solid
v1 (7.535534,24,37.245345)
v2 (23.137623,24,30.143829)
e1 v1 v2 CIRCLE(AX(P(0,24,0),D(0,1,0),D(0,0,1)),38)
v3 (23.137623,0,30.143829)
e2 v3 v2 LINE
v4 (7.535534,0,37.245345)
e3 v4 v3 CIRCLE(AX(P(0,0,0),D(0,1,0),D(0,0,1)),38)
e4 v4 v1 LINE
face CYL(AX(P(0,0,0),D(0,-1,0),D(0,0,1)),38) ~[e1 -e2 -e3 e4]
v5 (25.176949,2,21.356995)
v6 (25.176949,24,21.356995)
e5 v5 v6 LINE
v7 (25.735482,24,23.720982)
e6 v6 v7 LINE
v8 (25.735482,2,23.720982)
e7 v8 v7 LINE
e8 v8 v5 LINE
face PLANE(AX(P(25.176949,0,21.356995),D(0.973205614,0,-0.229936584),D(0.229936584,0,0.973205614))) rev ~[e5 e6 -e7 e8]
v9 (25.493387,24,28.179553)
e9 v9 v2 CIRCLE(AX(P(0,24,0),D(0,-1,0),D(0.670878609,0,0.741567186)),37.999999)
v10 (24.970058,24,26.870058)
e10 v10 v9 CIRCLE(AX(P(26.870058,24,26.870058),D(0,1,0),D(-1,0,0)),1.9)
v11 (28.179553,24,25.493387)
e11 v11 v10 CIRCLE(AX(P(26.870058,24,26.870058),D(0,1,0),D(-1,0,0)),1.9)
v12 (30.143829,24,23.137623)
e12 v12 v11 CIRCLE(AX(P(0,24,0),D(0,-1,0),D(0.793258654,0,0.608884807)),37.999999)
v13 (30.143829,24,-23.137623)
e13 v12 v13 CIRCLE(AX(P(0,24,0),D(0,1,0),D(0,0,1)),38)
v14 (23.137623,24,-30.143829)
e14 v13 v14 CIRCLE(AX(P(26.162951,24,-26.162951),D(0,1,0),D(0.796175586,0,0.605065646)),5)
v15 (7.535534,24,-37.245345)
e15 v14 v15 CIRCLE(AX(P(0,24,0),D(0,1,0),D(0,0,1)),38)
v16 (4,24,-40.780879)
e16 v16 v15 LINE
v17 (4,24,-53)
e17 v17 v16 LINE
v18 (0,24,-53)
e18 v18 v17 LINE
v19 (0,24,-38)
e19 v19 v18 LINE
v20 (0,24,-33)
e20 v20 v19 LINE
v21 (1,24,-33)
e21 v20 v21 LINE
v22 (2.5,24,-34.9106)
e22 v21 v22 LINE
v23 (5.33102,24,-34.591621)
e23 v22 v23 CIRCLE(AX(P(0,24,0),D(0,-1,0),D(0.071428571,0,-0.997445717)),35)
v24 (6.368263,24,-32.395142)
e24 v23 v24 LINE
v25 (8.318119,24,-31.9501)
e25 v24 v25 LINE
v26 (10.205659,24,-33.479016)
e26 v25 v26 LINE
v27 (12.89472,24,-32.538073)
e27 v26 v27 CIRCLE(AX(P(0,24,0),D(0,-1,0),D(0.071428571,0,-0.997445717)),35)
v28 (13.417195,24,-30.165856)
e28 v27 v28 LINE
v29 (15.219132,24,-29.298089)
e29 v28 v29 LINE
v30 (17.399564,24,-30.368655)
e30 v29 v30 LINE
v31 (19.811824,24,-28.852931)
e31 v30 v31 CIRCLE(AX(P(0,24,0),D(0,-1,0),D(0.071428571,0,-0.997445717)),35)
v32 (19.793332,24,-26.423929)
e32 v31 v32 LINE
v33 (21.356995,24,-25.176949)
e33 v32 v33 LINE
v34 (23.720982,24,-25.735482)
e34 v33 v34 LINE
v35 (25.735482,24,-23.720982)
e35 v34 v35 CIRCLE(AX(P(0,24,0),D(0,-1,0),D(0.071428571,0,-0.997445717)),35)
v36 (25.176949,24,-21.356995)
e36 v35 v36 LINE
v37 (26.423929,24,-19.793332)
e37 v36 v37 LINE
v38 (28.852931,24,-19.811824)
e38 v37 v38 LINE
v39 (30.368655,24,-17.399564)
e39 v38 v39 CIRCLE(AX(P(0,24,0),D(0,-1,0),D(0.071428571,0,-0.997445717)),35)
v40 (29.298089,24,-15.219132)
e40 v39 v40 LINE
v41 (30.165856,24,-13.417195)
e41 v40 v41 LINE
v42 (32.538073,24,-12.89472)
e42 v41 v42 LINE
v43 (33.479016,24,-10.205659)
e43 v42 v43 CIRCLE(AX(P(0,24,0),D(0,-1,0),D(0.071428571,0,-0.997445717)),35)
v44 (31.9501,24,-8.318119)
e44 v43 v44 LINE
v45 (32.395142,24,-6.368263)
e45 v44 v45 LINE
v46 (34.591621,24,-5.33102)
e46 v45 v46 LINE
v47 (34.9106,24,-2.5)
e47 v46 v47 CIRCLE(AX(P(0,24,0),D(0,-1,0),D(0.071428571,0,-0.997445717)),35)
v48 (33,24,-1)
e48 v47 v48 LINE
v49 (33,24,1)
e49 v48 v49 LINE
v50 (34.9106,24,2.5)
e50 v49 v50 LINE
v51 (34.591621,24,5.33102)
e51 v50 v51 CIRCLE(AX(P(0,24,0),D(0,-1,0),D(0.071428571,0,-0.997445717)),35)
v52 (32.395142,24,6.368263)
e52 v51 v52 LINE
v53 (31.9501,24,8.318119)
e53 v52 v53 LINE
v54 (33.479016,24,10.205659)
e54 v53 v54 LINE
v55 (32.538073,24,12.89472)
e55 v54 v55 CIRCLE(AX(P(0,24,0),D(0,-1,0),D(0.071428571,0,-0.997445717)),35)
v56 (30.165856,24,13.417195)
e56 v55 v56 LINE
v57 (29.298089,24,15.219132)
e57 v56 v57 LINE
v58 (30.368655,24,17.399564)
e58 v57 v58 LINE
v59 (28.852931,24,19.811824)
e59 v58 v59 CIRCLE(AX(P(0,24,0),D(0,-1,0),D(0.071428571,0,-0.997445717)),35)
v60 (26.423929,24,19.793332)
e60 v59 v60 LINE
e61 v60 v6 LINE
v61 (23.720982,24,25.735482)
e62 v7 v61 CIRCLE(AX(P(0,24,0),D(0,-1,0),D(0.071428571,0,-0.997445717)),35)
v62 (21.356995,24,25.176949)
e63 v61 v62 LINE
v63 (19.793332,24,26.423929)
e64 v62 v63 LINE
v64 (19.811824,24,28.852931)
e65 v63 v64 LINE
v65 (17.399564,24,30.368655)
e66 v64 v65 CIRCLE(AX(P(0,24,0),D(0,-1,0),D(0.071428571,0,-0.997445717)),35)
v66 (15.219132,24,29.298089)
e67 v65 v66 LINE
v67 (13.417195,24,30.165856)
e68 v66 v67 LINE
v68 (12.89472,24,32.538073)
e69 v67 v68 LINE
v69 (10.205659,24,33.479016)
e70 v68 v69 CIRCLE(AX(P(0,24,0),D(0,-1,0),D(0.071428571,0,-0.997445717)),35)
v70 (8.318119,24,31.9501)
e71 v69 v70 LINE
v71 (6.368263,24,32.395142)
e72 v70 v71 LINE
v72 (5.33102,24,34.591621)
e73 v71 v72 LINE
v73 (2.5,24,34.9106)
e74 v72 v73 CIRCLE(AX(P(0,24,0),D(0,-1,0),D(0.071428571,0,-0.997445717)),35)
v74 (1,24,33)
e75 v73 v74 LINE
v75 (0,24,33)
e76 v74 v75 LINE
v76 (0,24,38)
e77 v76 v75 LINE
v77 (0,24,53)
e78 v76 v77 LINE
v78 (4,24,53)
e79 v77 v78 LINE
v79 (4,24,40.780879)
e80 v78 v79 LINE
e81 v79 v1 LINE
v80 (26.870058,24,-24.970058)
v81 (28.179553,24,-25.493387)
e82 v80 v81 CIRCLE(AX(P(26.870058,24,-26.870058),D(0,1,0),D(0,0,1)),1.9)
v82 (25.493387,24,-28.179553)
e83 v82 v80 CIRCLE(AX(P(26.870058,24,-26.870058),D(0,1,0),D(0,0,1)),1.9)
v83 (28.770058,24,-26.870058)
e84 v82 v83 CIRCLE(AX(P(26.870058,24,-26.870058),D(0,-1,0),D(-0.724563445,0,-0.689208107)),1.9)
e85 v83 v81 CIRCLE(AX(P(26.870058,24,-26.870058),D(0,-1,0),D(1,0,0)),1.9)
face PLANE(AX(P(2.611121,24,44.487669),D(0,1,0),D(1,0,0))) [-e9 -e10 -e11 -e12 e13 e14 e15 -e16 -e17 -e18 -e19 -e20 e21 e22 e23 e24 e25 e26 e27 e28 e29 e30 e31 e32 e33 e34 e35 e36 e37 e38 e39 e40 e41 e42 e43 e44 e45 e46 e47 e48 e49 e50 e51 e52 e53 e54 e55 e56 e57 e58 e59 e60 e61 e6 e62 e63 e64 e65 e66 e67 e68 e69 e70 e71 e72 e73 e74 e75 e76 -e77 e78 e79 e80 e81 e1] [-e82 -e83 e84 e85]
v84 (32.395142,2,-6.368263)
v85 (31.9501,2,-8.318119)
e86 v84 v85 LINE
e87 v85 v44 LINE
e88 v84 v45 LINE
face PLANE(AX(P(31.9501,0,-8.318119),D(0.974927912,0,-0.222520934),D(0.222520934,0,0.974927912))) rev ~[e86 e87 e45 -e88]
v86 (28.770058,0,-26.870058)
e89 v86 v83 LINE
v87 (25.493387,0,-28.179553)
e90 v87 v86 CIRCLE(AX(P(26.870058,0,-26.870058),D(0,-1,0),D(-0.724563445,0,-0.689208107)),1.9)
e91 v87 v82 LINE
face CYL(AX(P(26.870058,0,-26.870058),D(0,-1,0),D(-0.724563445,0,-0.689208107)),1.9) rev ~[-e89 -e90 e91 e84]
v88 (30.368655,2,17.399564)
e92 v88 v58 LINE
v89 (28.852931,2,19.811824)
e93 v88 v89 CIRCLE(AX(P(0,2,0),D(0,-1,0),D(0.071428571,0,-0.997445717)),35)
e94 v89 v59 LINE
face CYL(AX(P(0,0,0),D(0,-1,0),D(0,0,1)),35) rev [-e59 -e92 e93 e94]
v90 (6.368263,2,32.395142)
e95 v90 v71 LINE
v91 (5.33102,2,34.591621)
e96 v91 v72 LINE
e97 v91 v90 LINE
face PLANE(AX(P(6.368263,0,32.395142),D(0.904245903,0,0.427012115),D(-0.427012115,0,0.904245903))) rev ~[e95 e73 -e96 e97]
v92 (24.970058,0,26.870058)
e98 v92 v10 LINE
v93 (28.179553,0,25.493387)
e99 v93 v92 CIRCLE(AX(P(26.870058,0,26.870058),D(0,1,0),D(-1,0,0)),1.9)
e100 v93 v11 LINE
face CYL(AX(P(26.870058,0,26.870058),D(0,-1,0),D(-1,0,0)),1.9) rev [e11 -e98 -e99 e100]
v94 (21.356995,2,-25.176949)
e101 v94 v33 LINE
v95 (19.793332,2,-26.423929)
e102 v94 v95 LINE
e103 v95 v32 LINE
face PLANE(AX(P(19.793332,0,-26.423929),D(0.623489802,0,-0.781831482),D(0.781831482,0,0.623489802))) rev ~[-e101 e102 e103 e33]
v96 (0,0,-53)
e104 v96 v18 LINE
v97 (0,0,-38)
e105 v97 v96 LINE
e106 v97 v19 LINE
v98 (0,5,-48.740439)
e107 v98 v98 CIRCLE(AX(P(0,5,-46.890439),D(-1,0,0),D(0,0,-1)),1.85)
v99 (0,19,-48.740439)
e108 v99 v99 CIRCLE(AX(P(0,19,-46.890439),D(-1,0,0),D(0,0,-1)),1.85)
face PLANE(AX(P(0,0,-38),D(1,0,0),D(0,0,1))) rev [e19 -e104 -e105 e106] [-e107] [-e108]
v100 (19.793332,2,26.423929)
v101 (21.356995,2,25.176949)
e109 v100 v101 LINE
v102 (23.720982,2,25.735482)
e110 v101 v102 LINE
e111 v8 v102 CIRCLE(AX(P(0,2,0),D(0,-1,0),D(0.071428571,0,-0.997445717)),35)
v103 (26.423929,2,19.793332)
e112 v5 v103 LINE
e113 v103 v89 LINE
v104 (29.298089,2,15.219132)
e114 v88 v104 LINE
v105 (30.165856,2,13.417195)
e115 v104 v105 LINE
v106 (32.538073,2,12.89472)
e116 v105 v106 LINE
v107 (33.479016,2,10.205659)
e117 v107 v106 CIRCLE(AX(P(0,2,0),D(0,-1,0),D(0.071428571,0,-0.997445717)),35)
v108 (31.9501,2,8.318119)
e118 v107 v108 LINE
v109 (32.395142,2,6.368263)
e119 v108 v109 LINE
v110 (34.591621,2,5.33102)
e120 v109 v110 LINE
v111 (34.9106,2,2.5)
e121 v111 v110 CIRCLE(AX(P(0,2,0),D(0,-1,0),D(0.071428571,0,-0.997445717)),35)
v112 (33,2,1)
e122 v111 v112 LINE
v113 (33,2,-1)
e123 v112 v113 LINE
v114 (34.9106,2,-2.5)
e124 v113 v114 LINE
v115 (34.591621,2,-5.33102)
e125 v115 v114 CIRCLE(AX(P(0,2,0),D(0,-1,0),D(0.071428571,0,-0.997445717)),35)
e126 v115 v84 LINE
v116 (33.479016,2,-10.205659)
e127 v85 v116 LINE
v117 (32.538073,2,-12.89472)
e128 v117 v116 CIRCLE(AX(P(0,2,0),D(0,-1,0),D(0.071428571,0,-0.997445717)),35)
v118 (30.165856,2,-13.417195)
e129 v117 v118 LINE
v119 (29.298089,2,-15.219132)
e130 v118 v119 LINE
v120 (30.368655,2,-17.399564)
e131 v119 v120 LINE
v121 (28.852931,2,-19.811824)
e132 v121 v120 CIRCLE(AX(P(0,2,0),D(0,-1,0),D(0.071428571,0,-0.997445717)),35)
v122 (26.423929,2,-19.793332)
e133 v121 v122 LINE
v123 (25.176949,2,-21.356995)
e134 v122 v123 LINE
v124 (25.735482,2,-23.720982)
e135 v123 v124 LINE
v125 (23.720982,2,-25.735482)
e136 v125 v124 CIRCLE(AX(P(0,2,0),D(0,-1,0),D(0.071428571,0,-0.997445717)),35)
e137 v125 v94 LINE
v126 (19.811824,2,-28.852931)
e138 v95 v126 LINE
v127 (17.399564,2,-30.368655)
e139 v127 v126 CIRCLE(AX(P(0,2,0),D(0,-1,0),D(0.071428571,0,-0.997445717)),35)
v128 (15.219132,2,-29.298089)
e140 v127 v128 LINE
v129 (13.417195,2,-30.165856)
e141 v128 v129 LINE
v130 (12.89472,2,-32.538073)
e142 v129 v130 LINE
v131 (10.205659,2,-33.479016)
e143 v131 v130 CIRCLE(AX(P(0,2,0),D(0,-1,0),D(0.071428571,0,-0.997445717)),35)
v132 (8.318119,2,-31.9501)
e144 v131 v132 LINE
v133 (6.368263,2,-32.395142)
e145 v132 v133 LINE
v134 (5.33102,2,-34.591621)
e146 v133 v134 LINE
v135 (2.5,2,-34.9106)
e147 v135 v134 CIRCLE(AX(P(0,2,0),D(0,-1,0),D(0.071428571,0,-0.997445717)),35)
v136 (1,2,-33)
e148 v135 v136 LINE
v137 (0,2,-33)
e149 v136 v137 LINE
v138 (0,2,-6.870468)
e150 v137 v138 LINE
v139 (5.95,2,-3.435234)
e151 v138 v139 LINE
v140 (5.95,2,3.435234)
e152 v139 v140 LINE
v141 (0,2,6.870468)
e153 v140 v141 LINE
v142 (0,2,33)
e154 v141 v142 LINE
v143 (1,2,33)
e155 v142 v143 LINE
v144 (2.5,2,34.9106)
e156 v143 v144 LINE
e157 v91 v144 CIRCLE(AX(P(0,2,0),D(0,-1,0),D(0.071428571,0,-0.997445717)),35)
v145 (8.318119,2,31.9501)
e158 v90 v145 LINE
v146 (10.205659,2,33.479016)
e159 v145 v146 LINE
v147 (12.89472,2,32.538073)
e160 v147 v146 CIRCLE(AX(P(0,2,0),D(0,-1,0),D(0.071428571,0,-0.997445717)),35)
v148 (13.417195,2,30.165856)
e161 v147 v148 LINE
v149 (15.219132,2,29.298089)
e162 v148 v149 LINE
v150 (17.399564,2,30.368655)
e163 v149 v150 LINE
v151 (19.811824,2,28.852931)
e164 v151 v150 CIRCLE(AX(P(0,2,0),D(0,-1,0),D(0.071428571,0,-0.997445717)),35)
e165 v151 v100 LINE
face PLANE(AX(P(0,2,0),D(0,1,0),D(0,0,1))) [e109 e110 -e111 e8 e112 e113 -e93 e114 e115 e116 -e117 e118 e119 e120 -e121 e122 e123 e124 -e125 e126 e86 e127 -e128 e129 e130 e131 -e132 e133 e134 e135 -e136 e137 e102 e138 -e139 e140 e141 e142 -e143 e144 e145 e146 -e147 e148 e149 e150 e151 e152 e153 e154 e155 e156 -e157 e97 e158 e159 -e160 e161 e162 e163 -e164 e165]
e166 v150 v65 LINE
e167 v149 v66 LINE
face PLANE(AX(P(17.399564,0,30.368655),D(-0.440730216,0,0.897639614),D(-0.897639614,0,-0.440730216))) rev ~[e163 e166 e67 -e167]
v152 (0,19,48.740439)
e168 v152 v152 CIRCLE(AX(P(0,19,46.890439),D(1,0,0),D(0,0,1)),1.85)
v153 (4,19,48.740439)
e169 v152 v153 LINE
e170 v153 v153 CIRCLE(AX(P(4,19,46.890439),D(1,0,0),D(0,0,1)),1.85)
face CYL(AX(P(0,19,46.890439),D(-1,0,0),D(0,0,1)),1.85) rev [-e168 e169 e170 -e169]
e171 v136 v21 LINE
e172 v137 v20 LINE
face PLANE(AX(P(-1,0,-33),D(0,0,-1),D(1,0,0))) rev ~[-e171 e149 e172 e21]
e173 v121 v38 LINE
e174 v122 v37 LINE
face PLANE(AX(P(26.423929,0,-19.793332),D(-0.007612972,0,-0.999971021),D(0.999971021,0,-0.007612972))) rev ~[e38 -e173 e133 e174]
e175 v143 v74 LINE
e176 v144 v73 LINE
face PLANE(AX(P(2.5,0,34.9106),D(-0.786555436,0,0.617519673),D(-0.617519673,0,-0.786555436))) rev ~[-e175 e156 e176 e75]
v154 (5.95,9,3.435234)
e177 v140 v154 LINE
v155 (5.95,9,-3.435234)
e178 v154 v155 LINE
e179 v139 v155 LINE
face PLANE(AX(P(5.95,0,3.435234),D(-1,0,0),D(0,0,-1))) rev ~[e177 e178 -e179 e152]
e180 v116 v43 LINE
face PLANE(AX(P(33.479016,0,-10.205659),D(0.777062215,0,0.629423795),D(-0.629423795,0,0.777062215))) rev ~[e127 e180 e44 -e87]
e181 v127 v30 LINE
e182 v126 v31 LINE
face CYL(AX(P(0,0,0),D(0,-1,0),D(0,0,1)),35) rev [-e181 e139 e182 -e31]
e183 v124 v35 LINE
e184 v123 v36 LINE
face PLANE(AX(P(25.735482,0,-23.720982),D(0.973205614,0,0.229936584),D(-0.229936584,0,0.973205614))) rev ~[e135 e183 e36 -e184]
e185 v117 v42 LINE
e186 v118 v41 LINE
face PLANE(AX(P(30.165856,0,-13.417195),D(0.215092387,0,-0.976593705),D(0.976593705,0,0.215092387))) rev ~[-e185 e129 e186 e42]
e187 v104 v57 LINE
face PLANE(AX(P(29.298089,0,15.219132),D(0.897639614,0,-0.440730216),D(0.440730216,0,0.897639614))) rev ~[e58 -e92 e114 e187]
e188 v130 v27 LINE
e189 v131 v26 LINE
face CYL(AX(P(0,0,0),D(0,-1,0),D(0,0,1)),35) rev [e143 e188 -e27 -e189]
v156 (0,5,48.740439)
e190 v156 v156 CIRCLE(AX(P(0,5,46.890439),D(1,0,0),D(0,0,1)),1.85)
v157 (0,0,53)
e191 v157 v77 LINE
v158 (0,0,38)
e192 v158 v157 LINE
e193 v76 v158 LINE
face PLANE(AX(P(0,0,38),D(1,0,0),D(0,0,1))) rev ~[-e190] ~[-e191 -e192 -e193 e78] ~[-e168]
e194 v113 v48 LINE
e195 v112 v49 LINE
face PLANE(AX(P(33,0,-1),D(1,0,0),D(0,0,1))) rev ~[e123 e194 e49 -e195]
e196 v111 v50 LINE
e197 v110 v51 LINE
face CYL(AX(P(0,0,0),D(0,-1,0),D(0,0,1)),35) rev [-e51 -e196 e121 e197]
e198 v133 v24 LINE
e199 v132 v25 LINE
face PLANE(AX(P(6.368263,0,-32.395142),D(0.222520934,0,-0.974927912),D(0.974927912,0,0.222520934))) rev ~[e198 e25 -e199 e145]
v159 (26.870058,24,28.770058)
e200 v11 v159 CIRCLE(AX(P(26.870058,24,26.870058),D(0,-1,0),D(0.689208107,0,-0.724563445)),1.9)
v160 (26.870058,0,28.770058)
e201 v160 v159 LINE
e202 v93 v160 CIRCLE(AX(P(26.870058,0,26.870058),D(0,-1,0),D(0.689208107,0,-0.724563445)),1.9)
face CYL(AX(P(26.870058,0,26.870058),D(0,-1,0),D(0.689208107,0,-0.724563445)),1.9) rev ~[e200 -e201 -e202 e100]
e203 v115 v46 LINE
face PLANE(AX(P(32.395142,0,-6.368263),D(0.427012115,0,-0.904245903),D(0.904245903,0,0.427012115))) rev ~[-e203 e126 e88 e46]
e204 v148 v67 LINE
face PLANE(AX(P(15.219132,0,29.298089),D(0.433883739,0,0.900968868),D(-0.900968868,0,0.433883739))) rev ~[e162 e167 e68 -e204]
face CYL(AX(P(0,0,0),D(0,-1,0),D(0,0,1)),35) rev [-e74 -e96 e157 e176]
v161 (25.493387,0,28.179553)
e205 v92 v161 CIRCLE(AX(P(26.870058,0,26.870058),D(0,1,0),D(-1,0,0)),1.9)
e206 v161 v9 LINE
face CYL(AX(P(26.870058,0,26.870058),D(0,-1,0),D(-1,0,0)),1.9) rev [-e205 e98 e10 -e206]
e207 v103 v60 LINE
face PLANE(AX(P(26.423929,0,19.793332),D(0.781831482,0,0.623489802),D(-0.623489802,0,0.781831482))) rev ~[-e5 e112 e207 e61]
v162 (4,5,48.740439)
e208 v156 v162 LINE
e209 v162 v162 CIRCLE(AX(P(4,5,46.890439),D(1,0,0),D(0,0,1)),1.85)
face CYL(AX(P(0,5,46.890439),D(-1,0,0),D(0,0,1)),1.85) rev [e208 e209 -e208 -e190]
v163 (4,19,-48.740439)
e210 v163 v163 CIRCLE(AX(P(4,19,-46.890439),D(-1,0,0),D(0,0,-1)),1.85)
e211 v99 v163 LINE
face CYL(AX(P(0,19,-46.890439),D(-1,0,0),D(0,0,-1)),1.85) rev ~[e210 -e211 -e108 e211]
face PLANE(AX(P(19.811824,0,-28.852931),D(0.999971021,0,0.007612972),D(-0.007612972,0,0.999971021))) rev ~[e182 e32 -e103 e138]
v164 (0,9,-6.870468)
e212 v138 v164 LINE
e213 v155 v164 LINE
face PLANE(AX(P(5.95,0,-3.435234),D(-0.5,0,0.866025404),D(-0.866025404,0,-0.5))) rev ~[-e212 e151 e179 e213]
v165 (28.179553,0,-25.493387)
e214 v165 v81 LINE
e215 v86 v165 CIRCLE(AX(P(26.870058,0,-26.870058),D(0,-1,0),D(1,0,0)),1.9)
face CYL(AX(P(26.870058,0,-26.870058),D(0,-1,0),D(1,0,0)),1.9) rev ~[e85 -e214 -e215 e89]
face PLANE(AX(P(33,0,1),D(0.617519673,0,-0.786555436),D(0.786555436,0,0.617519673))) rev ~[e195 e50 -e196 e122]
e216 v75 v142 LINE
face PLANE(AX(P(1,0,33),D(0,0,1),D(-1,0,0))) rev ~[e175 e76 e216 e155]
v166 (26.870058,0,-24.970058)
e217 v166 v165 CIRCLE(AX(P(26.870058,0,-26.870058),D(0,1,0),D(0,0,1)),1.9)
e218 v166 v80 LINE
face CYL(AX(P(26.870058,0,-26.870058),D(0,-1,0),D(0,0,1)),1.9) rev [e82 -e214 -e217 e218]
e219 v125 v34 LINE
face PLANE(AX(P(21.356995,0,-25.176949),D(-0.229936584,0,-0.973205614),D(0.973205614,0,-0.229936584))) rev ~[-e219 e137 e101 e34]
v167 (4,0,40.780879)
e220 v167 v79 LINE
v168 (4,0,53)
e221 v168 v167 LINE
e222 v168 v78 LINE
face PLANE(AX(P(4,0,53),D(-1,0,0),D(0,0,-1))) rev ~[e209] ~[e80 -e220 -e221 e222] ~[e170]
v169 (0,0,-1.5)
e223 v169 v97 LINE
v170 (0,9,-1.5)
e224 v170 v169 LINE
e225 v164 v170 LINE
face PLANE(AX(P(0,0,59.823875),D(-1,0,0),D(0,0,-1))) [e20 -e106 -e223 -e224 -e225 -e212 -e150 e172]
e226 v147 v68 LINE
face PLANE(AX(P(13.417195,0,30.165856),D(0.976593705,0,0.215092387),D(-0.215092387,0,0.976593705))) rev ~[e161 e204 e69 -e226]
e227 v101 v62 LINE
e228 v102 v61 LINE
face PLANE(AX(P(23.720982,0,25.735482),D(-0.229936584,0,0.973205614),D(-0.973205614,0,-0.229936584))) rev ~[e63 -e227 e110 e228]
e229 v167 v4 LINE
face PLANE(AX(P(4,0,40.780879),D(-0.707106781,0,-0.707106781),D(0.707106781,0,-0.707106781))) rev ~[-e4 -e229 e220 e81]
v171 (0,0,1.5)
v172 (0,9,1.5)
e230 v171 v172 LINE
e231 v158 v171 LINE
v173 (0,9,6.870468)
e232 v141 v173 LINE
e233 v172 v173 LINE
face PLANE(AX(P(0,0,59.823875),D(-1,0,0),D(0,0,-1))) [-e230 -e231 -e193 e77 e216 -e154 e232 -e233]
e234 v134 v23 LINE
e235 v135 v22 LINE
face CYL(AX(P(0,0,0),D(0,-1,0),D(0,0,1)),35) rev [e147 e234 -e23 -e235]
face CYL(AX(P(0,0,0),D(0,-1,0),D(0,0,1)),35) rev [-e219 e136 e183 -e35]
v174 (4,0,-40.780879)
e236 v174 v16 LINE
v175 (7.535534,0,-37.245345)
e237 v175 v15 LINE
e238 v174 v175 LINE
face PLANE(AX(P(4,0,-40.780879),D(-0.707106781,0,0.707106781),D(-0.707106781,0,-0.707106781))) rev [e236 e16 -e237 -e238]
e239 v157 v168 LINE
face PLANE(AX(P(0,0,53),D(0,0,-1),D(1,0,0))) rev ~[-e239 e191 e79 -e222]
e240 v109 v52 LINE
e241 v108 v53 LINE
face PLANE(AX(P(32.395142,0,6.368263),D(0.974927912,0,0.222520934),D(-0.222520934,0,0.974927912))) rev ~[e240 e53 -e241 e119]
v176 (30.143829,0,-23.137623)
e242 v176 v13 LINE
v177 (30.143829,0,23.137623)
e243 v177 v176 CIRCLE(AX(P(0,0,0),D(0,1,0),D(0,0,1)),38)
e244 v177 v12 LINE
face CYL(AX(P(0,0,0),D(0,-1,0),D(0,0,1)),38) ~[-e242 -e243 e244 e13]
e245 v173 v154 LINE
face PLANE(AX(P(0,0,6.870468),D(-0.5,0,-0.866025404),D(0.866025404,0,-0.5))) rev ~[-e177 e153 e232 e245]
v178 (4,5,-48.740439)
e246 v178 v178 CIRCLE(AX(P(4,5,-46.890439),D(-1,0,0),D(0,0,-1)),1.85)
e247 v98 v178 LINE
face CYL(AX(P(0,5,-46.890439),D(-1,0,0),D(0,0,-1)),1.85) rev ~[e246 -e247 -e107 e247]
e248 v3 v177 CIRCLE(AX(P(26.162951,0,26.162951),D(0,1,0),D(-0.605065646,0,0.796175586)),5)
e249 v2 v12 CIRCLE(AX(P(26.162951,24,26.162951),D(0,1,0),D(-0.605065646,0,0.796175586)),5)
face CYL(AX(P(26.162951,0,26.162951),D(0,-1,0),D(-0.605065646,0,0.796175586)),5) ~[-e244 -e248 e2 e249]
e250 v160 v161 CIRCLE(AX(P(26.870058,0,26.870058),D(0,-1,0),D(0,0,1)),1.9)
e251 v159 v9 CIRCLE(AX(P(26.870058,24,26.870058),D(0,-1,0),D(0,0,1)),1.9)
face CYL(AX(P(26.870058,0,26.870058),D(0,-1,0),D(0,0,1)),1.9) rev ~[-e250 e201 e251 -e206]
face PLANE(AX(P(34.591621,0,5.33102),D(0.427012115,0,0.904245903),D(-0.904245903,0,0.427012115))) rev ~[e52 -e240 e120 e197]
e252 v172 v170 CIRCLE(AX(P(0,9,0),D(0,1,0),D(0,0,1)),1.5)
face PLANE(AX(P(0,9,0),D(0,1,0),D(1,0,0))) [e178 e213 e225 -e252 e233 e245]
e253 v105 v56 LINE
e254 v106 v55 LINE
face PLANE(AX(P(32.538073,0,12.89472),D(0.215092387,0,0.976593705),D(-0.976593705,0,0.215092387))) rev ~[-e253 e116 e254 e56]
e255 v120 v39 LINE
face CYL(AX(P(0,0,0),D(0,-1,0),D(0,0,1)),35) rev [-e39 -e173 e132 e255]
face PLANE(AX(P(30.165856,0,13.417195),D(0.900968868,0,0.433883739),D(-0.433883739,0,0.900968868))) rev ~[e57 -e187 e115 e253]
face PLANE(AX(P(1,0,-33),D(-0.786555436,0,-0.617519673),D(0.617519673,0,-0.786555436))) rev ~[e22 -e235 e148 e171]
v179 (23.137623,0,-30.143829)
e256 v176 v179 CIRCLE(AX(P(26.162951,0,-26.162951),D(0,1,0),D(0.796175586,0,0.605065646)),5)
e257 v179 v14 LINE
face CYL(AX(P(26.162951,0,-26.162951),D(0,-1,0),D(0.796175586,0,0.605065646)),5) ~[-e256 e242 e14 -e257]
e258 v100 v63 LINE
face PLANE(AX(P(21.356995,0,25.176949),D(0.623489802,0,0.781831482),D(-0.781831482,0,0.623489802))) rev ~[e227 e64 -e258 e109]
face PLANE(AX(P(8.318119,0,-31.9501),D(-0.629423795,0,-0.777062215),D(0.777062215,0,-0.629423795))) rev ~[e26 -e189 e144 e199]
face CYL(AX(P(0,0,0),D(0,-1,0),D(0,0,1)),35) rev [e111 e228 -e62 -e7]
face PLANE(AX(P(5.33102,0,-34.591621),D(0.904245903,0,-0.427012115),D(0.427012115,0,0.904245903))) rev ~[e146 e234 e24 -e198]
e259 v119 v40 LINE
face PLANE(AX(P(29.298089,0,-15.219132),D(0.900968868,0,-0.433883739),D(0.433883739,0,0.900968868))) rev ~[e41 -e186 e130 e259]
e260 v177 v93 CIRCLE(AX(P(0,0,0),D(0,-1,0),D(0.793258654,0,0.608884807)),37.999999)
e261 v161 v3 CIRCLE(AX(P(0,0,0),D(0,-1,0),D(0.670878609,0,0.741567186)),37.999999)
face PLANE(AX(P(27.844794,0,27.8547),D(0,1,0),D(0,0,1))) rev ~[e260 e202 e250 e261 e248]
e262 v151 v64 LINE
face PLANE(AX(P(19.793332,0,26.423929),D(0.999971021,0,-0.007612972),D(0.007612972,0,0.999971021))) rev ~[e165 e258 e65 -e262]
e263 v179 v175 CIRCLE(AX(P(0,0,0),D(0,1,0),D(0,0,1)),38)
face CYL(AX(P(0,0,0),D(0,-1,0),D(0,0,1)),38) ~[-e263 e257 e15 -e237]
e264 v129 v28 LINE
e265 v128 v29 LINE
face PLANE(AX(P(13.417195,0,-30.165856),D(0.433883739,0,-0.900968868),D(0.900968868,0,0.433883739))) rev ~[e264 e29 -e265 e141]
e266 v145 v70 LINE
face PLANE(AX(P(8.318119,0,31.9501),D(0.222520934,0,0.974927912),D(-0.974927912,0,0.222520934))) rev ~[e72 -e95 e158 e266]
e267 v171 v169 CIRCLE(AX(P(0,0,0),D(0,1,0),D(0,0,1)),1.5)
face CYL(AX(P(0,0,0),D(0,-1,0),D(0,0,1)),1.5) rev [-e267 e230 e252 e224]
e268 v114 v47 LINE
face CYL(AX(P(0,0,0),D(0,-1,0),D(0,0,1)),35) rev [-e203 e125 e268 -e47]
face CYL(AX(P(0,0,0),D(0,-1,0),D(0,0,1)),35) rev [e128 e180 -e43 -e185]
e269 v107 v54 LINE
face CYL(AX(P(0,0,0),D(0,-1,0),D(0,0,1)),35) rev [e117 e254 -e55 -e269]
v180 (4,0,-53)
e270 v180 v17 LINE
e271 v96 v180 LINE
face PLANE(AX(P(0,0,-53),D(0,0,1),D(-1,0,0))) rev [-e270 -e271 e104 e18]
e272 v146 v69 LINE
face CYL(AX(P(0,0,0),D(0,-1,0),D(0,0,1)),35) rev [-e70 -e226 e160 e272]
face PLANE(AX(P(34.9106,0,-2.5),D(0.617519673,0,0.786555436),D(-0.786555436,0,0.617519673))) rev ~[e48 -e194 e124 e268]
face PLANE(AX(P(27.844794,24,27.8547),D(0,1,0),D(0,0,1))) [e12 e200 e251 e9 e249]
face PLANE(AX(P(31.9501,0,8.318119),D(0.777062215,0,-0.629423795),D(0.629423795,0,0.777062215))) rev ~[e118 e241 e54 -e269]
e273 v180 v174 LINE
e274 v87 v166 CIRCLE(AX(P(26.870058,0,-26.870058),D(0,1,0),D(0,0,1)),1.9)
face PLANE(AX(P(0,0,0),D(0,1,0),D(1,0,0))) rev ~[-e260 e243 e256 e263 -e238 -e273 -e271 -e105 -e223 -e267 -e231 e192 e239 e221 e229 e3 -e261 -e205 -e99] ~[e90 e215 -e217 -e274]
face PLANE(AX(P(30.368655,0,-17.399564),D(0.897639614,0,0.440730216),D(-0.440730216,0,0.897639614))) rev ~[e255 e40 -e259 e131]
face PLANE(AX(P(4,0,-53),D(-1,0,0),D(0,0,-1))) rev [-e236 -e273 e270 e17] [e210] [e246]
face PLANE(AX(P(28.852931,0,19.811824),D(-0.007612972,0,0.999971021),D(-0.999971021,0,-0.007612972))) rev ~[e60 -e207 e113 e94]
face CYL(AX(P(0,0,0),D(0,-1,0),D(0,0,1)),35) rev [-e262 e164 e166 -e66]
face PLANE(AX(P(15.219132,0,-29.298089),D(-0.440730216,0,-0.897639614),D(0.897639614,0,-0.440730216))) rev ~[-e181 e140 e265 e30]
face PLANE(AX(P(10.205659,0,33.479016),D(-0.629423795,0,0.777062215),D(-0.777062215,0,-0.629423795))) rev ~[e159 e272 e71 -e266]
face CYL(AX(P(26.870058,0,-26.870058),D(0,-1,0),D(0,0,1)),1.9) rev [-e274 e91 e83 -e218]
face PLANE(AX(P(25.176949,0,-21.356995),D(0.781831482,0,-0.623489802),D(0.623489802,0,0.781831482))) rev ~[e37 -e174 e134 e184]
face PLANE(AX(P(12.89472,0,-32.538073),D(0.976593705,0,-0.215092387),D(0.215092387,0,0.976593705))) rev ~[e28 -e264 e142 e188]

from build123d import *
from build123d.topology import SkipClean

# Parameters (mm, degrees)
SKETCH1_R            = 38
SKETCH1_R_2          = 35
SKETCH1_R_3          = 2
BOSS_EXTRUDE6_DEPTH  = 2
SKETCH1_7_R          = 38
SKETCH1_7_R_2        = 35
BOSS_EXTRUDE7_DEPTH  = 24
BOSS_EXTRUDE8_DEPTH  = 24
CIRPATTERN1_COUNT    = 28
BOSS_EXTRUDE9_DEPTH  = 24
SKETCH4_R            = 1.85
CUT_EXTRUDE2_DEPTH   = 4
BOSS_EXTRUDE12_DEPTH = 9
SKETCH7_R            = 1.5
CUT_EXTRUDE4_DEPTH   = 9
BOSS_EXTRUDE17_DEPTH = 24
SKETCH11_10_R        = 1.9
CUT_EXTRUDE7_DEPTH   = 24
CIRPATTERN2_COUNT    = 4
SKETCH5_W            = 41.086585788
SKETCH5_H            = 115.80999181
CUT_EXTRUDE3_DEPTH   = 24


with BuildPart() as part:
    # Sketch1 → Boss-Extrude6 (new body)
    # profile 1 of 5: a face of its own
    with BuildSketch(Plane(origin=(0, 0, 0), x_dir=(1, 0, 0), z_dir=(0, 1, 0))):
        with Locations(Location((0, 0, 0), (0, 0, 270))):
            Circle(SKETCH1_R)
        Circle(SKETCH1_R_2, mode=Mode.SUBTRACT)
    # profile 2 of 5: a face of its own
    with BuildSketch(Plane(origin=(0, 0, 0), x_dir=(1, 0, 0), z_dir=(0, 1, 0))):
        with BuildLine():
            Line((1, 33), (0, 33))
            Line((0, 33), (-1, 33))
            Line((-1, 33), (-2.5, 34.910600109))
            ThreePointArc((-2.5, 34.910600109), (-23.848480035, -25.617376915), (35, 0))
            ThreePointArc((35, 0), (25.617376915, 23.848480035), (2.5, 34.910600109))
            Line((2.5, 34.910600109), (1, 33))
        make_face()
        Circle(SKETCH1_R_3, mode=Mode.SUBTRACT)
    # profile 3 of 5: a face of its own
    with BuildSketch(Plane(origin=(0, 0, 0), x_dir=(1, 0, 0), z_dir=(0, 1, 0))):
        Circle(SKETCH1_R_3)
    # profile 4 of 5: a face of its own
    with BuildSketch(Plane(origin=(0, 0, 0), x_dir=(1, 0, 0), z_dir=(0, 1, 0))):
        with BuildLine():
            Line((0, 33), (0, 35))
            ThreePointArc((0, 35), (-1.250798979, 34.977642887), (-2.5, 34.910600109))
            Line((-2.5, 34.910600109), (-1, 33))
            Line((-1, 33), (0, 33))
        make_face()
    # profile 5 of 5: a face of its own
    with BuildSketch(Plane(origin=(0, 0, 0), x_dir=(1, 0, 0), z_dir=(0, 1, 0))):
        with BuildLine():
            ThreePointArc((2.5, 34.910600109), (1.250798979, 34.977642887), (0, 35))
            Line((0, 35), (0, 33))
            Line((0, 33), (1, 33))
            Line((1, 33), (2.5, 34.910600109))
        make_face()
    extrude(amount=BOSS_EXTRUDE6_DEPTH)

    # Sketch1<7> → Boss-Extrude7 (add)
    with BuildSketch(Plane(origin=(0, 0, 0), x_dir=(1, 0, 0), z_dir=(0, 1, 0))):
        with Locations(Location((0, 0, 0), (0, 0, 270))):
            Circle(SKETCH1_7_R)
        with Locations(Location((0, 0, 0), (0, 0, 270))):
            Circle(SKETCH1_7_R_2, mode=Mode.SUBTRACT)
    extrude(amount=BOSS_EXTRUDE7_DEPTH)

    # Sketch1<8> → Boss-Extrude8 (add)
    with BuildSketch(Plane(origin=(0, 0, 0), x_dir=(1, 0, 0), z_dir=(0, 1, 0))):
        with BuildLine():
            ThreePointArc((2.5, 34.910600109), (1.250798979, 34.977642887), (0, 35))
            Line((0, 35), (0, 33))
            Line((0, 33), (1, 33))
            Line((1, 33), (2.5, 34.910600109))
        make_face()
        with BuildLine():
            Line((0, 33), (0, 35))
            ThreePointArc((0, 35), (-1.250798979, 34.977642887), (-2.5, 34.910600109))
            Line((-2.5, 34.910600109), (-1, 33))
            Line((-1, 33), (0, 33))
        make_face()
    boss_extrude8 = extrude(amount=BOSS_EXTRUDE8_DEPTH)

    # CirPattern1: Boss-Extrude8 ×28 about axis
    cirpattern1_axis = Axis((0, 0, 0), (0, 1, 0))
    for i in range(1, CIRPATTERN1_COUNT):
        add(boss_extrude8.rotate(cirpattern1_axis, i * 360 / CIRPATTERN1_COUNT))

    # Sketch3 → Boss-Extrude9 (add)
    with BuildSketch(Plane(origin=(0, 0, 0), x_dir=(1, 0, 0), z_dir=(0, 1, 0))):
        with BuildLine():
            Line((0, -38), (0, -53))
            Line((0, -53), (4, -53))
            Line((4, -53), (4, -40.780878967))
            Line((4, -40.780878967), (7.535533906, -37.245345062))
            ThreePointArc((7.535533906, -37.245345062), (3.786613768, -37.810865583), (0, -38))
        make_face()
    boss_extrude9 = extrude(amount=BOSS_EXTRUDE9_DEPTH)

    # Sketch4 → Cut-Extrude2 (cut)
    with BuildSketch(Plane(origin=(0, 0, 0), x_dir=(0, 0, -1), z_dir=(1, 0, 0))):
        with Locations(Location((-46.890439484, 5, 0), (0, 0, 180))):
            Circle(SKETCH4_R)
        with Locations(Location((-46.890439484, 19, 0), (0, 0, 180))):
            Circle(SKETCH4_R)
    cut_extrude2 = extrude(amount=CUT_EXTRUDE2_DEPTH, mode=Mode.SUBTRACT)

    # Mirror1: Boss-Extrude9, Cut-Extrude2 across plane
    add(boss_extrude9.mirror(Plane.XY))
    add(cut_extrude2.mirror(Plane.XY), mode=Mode.SUBTRACT)

    # Sketch6 → Boss-Extrude12 (add)
    with BuildSketch(Plane(origin=(0, 0, 0), x_dir=(1, 0, 0), z_dir=(0, 1, 0))):
        Polygon((0, 6.870468203), (-5.95, 3.435234102), (-5.95, -3.435234102), (0, -6.870468203), (5.95, -3.435234102), (5.95, 3.435234102), align=None)
    extrude(amount=BOSS_EXTRUDE12_DEPTH)

    # Sketch7 → Cut-Extrude4 (cut)
    with BuildSketch(Plane(origin=(0, 0, 0), x_dir=(1, 0, 0), z_dir=(0, 1, 0))):
        with Locations(Location((0, 0, 0), (0, 0, 270))):
            Circle(SKETCH7_R)
    extrude(amount=CUT_EXTRUDE4_DEPTH, mode=Mode.SUBTRACT)

    # Sketch11 → Boss-Extrude17 (add)
    with BuildSketch(Plane(origin=(0, 0, 0), x_dir=(1, 0, 0), z_dir=(0, 1, 0))):
        with BuildLine():
            ThreePointArc((25.493387139, 28.179553087), (27.575155537, 28.634381073), (28.770057685, 26.870057685))
            ThreePointArc((28.770057685, 26.870057685), (28.61620219, 26.121072126), (28.179553087, 25.493387139))
            ThreePointArc((28.179553087, 25.493387139), (29.185469438, 24.335331798), (30.143828836, 23.137622676))
            ThreePointArc((30.143828836, 23.137622676), (29.69848481, 29.69848481), (23.137622676, 30.143828836))
            ThreePointArc((23.137622676, 30.143828836), (24.335331798, 29.185469438), (25.493387139, 28.179553087))
        make_face()
    boss_extrude17 = extrude(amount=BOSS_EXTRUDE17_DEPTH)

    # Sketch11<10> → Cut-Extrude7 (cut)
    with SkipClean():  # the faces are left unmerged after this step: merging them gives an invalid solid
        with BuildSketch(Plane(origin=(0, 0, 0), x_dir=(1, 0, 0), z_dir=(0, 1, 0))):
            with Locations(Location((26.870057685, 26.870057685, 0), (0, 0, 270))):
                Circle(SKETCH11_10_R)
        cut_extrude7 = extrude(amount=CUT_EXTRUDE7_DEPTH, mode=Mode.SUBTRACT)

    # CirPattern2: Boss-Extrude17, Cut-Extrude7 ×4 about axis
    with SkipClean():  # the faces are left unmerged after this step: merging them gives an invalid solid
        cirpattern2_axis = Axis((0, 0, 0), (0, 1, 0))
        add([boss_extrude17.rotate(cirpattern2_axis, i * 360 / CIRPATTERN2_COUNT) for i in range(1, CIRPATTERN2_COUNT)])
        add([cut_extrude7.rotate(cirpattern2_axis, i * 360 / CIRPATTERN2_COUNT) for i in range(1, CIRPATTERN2_COUNT)], mode=Mode.SUBTRACT)

    # Sketch5 → Cut-Extrude3 (cut)
    with SkipClean():  # the faces are left unmerged after this step: merging them gives an invalid solid
        with BuildSketch(Plane(origin=(0, 0, 0), x_dir=(1, 0, 0), z_dir=(0, 1, 0))):
            with Locations((-20.543292894, -1.918879007)):
                Rectangle(SKETCH5_W, SKETCH5_H)
        extrude(amount=CUT_EXTRUDE3_DEPTH, mode=Mode.SUBTRACT)


solid = part.part
